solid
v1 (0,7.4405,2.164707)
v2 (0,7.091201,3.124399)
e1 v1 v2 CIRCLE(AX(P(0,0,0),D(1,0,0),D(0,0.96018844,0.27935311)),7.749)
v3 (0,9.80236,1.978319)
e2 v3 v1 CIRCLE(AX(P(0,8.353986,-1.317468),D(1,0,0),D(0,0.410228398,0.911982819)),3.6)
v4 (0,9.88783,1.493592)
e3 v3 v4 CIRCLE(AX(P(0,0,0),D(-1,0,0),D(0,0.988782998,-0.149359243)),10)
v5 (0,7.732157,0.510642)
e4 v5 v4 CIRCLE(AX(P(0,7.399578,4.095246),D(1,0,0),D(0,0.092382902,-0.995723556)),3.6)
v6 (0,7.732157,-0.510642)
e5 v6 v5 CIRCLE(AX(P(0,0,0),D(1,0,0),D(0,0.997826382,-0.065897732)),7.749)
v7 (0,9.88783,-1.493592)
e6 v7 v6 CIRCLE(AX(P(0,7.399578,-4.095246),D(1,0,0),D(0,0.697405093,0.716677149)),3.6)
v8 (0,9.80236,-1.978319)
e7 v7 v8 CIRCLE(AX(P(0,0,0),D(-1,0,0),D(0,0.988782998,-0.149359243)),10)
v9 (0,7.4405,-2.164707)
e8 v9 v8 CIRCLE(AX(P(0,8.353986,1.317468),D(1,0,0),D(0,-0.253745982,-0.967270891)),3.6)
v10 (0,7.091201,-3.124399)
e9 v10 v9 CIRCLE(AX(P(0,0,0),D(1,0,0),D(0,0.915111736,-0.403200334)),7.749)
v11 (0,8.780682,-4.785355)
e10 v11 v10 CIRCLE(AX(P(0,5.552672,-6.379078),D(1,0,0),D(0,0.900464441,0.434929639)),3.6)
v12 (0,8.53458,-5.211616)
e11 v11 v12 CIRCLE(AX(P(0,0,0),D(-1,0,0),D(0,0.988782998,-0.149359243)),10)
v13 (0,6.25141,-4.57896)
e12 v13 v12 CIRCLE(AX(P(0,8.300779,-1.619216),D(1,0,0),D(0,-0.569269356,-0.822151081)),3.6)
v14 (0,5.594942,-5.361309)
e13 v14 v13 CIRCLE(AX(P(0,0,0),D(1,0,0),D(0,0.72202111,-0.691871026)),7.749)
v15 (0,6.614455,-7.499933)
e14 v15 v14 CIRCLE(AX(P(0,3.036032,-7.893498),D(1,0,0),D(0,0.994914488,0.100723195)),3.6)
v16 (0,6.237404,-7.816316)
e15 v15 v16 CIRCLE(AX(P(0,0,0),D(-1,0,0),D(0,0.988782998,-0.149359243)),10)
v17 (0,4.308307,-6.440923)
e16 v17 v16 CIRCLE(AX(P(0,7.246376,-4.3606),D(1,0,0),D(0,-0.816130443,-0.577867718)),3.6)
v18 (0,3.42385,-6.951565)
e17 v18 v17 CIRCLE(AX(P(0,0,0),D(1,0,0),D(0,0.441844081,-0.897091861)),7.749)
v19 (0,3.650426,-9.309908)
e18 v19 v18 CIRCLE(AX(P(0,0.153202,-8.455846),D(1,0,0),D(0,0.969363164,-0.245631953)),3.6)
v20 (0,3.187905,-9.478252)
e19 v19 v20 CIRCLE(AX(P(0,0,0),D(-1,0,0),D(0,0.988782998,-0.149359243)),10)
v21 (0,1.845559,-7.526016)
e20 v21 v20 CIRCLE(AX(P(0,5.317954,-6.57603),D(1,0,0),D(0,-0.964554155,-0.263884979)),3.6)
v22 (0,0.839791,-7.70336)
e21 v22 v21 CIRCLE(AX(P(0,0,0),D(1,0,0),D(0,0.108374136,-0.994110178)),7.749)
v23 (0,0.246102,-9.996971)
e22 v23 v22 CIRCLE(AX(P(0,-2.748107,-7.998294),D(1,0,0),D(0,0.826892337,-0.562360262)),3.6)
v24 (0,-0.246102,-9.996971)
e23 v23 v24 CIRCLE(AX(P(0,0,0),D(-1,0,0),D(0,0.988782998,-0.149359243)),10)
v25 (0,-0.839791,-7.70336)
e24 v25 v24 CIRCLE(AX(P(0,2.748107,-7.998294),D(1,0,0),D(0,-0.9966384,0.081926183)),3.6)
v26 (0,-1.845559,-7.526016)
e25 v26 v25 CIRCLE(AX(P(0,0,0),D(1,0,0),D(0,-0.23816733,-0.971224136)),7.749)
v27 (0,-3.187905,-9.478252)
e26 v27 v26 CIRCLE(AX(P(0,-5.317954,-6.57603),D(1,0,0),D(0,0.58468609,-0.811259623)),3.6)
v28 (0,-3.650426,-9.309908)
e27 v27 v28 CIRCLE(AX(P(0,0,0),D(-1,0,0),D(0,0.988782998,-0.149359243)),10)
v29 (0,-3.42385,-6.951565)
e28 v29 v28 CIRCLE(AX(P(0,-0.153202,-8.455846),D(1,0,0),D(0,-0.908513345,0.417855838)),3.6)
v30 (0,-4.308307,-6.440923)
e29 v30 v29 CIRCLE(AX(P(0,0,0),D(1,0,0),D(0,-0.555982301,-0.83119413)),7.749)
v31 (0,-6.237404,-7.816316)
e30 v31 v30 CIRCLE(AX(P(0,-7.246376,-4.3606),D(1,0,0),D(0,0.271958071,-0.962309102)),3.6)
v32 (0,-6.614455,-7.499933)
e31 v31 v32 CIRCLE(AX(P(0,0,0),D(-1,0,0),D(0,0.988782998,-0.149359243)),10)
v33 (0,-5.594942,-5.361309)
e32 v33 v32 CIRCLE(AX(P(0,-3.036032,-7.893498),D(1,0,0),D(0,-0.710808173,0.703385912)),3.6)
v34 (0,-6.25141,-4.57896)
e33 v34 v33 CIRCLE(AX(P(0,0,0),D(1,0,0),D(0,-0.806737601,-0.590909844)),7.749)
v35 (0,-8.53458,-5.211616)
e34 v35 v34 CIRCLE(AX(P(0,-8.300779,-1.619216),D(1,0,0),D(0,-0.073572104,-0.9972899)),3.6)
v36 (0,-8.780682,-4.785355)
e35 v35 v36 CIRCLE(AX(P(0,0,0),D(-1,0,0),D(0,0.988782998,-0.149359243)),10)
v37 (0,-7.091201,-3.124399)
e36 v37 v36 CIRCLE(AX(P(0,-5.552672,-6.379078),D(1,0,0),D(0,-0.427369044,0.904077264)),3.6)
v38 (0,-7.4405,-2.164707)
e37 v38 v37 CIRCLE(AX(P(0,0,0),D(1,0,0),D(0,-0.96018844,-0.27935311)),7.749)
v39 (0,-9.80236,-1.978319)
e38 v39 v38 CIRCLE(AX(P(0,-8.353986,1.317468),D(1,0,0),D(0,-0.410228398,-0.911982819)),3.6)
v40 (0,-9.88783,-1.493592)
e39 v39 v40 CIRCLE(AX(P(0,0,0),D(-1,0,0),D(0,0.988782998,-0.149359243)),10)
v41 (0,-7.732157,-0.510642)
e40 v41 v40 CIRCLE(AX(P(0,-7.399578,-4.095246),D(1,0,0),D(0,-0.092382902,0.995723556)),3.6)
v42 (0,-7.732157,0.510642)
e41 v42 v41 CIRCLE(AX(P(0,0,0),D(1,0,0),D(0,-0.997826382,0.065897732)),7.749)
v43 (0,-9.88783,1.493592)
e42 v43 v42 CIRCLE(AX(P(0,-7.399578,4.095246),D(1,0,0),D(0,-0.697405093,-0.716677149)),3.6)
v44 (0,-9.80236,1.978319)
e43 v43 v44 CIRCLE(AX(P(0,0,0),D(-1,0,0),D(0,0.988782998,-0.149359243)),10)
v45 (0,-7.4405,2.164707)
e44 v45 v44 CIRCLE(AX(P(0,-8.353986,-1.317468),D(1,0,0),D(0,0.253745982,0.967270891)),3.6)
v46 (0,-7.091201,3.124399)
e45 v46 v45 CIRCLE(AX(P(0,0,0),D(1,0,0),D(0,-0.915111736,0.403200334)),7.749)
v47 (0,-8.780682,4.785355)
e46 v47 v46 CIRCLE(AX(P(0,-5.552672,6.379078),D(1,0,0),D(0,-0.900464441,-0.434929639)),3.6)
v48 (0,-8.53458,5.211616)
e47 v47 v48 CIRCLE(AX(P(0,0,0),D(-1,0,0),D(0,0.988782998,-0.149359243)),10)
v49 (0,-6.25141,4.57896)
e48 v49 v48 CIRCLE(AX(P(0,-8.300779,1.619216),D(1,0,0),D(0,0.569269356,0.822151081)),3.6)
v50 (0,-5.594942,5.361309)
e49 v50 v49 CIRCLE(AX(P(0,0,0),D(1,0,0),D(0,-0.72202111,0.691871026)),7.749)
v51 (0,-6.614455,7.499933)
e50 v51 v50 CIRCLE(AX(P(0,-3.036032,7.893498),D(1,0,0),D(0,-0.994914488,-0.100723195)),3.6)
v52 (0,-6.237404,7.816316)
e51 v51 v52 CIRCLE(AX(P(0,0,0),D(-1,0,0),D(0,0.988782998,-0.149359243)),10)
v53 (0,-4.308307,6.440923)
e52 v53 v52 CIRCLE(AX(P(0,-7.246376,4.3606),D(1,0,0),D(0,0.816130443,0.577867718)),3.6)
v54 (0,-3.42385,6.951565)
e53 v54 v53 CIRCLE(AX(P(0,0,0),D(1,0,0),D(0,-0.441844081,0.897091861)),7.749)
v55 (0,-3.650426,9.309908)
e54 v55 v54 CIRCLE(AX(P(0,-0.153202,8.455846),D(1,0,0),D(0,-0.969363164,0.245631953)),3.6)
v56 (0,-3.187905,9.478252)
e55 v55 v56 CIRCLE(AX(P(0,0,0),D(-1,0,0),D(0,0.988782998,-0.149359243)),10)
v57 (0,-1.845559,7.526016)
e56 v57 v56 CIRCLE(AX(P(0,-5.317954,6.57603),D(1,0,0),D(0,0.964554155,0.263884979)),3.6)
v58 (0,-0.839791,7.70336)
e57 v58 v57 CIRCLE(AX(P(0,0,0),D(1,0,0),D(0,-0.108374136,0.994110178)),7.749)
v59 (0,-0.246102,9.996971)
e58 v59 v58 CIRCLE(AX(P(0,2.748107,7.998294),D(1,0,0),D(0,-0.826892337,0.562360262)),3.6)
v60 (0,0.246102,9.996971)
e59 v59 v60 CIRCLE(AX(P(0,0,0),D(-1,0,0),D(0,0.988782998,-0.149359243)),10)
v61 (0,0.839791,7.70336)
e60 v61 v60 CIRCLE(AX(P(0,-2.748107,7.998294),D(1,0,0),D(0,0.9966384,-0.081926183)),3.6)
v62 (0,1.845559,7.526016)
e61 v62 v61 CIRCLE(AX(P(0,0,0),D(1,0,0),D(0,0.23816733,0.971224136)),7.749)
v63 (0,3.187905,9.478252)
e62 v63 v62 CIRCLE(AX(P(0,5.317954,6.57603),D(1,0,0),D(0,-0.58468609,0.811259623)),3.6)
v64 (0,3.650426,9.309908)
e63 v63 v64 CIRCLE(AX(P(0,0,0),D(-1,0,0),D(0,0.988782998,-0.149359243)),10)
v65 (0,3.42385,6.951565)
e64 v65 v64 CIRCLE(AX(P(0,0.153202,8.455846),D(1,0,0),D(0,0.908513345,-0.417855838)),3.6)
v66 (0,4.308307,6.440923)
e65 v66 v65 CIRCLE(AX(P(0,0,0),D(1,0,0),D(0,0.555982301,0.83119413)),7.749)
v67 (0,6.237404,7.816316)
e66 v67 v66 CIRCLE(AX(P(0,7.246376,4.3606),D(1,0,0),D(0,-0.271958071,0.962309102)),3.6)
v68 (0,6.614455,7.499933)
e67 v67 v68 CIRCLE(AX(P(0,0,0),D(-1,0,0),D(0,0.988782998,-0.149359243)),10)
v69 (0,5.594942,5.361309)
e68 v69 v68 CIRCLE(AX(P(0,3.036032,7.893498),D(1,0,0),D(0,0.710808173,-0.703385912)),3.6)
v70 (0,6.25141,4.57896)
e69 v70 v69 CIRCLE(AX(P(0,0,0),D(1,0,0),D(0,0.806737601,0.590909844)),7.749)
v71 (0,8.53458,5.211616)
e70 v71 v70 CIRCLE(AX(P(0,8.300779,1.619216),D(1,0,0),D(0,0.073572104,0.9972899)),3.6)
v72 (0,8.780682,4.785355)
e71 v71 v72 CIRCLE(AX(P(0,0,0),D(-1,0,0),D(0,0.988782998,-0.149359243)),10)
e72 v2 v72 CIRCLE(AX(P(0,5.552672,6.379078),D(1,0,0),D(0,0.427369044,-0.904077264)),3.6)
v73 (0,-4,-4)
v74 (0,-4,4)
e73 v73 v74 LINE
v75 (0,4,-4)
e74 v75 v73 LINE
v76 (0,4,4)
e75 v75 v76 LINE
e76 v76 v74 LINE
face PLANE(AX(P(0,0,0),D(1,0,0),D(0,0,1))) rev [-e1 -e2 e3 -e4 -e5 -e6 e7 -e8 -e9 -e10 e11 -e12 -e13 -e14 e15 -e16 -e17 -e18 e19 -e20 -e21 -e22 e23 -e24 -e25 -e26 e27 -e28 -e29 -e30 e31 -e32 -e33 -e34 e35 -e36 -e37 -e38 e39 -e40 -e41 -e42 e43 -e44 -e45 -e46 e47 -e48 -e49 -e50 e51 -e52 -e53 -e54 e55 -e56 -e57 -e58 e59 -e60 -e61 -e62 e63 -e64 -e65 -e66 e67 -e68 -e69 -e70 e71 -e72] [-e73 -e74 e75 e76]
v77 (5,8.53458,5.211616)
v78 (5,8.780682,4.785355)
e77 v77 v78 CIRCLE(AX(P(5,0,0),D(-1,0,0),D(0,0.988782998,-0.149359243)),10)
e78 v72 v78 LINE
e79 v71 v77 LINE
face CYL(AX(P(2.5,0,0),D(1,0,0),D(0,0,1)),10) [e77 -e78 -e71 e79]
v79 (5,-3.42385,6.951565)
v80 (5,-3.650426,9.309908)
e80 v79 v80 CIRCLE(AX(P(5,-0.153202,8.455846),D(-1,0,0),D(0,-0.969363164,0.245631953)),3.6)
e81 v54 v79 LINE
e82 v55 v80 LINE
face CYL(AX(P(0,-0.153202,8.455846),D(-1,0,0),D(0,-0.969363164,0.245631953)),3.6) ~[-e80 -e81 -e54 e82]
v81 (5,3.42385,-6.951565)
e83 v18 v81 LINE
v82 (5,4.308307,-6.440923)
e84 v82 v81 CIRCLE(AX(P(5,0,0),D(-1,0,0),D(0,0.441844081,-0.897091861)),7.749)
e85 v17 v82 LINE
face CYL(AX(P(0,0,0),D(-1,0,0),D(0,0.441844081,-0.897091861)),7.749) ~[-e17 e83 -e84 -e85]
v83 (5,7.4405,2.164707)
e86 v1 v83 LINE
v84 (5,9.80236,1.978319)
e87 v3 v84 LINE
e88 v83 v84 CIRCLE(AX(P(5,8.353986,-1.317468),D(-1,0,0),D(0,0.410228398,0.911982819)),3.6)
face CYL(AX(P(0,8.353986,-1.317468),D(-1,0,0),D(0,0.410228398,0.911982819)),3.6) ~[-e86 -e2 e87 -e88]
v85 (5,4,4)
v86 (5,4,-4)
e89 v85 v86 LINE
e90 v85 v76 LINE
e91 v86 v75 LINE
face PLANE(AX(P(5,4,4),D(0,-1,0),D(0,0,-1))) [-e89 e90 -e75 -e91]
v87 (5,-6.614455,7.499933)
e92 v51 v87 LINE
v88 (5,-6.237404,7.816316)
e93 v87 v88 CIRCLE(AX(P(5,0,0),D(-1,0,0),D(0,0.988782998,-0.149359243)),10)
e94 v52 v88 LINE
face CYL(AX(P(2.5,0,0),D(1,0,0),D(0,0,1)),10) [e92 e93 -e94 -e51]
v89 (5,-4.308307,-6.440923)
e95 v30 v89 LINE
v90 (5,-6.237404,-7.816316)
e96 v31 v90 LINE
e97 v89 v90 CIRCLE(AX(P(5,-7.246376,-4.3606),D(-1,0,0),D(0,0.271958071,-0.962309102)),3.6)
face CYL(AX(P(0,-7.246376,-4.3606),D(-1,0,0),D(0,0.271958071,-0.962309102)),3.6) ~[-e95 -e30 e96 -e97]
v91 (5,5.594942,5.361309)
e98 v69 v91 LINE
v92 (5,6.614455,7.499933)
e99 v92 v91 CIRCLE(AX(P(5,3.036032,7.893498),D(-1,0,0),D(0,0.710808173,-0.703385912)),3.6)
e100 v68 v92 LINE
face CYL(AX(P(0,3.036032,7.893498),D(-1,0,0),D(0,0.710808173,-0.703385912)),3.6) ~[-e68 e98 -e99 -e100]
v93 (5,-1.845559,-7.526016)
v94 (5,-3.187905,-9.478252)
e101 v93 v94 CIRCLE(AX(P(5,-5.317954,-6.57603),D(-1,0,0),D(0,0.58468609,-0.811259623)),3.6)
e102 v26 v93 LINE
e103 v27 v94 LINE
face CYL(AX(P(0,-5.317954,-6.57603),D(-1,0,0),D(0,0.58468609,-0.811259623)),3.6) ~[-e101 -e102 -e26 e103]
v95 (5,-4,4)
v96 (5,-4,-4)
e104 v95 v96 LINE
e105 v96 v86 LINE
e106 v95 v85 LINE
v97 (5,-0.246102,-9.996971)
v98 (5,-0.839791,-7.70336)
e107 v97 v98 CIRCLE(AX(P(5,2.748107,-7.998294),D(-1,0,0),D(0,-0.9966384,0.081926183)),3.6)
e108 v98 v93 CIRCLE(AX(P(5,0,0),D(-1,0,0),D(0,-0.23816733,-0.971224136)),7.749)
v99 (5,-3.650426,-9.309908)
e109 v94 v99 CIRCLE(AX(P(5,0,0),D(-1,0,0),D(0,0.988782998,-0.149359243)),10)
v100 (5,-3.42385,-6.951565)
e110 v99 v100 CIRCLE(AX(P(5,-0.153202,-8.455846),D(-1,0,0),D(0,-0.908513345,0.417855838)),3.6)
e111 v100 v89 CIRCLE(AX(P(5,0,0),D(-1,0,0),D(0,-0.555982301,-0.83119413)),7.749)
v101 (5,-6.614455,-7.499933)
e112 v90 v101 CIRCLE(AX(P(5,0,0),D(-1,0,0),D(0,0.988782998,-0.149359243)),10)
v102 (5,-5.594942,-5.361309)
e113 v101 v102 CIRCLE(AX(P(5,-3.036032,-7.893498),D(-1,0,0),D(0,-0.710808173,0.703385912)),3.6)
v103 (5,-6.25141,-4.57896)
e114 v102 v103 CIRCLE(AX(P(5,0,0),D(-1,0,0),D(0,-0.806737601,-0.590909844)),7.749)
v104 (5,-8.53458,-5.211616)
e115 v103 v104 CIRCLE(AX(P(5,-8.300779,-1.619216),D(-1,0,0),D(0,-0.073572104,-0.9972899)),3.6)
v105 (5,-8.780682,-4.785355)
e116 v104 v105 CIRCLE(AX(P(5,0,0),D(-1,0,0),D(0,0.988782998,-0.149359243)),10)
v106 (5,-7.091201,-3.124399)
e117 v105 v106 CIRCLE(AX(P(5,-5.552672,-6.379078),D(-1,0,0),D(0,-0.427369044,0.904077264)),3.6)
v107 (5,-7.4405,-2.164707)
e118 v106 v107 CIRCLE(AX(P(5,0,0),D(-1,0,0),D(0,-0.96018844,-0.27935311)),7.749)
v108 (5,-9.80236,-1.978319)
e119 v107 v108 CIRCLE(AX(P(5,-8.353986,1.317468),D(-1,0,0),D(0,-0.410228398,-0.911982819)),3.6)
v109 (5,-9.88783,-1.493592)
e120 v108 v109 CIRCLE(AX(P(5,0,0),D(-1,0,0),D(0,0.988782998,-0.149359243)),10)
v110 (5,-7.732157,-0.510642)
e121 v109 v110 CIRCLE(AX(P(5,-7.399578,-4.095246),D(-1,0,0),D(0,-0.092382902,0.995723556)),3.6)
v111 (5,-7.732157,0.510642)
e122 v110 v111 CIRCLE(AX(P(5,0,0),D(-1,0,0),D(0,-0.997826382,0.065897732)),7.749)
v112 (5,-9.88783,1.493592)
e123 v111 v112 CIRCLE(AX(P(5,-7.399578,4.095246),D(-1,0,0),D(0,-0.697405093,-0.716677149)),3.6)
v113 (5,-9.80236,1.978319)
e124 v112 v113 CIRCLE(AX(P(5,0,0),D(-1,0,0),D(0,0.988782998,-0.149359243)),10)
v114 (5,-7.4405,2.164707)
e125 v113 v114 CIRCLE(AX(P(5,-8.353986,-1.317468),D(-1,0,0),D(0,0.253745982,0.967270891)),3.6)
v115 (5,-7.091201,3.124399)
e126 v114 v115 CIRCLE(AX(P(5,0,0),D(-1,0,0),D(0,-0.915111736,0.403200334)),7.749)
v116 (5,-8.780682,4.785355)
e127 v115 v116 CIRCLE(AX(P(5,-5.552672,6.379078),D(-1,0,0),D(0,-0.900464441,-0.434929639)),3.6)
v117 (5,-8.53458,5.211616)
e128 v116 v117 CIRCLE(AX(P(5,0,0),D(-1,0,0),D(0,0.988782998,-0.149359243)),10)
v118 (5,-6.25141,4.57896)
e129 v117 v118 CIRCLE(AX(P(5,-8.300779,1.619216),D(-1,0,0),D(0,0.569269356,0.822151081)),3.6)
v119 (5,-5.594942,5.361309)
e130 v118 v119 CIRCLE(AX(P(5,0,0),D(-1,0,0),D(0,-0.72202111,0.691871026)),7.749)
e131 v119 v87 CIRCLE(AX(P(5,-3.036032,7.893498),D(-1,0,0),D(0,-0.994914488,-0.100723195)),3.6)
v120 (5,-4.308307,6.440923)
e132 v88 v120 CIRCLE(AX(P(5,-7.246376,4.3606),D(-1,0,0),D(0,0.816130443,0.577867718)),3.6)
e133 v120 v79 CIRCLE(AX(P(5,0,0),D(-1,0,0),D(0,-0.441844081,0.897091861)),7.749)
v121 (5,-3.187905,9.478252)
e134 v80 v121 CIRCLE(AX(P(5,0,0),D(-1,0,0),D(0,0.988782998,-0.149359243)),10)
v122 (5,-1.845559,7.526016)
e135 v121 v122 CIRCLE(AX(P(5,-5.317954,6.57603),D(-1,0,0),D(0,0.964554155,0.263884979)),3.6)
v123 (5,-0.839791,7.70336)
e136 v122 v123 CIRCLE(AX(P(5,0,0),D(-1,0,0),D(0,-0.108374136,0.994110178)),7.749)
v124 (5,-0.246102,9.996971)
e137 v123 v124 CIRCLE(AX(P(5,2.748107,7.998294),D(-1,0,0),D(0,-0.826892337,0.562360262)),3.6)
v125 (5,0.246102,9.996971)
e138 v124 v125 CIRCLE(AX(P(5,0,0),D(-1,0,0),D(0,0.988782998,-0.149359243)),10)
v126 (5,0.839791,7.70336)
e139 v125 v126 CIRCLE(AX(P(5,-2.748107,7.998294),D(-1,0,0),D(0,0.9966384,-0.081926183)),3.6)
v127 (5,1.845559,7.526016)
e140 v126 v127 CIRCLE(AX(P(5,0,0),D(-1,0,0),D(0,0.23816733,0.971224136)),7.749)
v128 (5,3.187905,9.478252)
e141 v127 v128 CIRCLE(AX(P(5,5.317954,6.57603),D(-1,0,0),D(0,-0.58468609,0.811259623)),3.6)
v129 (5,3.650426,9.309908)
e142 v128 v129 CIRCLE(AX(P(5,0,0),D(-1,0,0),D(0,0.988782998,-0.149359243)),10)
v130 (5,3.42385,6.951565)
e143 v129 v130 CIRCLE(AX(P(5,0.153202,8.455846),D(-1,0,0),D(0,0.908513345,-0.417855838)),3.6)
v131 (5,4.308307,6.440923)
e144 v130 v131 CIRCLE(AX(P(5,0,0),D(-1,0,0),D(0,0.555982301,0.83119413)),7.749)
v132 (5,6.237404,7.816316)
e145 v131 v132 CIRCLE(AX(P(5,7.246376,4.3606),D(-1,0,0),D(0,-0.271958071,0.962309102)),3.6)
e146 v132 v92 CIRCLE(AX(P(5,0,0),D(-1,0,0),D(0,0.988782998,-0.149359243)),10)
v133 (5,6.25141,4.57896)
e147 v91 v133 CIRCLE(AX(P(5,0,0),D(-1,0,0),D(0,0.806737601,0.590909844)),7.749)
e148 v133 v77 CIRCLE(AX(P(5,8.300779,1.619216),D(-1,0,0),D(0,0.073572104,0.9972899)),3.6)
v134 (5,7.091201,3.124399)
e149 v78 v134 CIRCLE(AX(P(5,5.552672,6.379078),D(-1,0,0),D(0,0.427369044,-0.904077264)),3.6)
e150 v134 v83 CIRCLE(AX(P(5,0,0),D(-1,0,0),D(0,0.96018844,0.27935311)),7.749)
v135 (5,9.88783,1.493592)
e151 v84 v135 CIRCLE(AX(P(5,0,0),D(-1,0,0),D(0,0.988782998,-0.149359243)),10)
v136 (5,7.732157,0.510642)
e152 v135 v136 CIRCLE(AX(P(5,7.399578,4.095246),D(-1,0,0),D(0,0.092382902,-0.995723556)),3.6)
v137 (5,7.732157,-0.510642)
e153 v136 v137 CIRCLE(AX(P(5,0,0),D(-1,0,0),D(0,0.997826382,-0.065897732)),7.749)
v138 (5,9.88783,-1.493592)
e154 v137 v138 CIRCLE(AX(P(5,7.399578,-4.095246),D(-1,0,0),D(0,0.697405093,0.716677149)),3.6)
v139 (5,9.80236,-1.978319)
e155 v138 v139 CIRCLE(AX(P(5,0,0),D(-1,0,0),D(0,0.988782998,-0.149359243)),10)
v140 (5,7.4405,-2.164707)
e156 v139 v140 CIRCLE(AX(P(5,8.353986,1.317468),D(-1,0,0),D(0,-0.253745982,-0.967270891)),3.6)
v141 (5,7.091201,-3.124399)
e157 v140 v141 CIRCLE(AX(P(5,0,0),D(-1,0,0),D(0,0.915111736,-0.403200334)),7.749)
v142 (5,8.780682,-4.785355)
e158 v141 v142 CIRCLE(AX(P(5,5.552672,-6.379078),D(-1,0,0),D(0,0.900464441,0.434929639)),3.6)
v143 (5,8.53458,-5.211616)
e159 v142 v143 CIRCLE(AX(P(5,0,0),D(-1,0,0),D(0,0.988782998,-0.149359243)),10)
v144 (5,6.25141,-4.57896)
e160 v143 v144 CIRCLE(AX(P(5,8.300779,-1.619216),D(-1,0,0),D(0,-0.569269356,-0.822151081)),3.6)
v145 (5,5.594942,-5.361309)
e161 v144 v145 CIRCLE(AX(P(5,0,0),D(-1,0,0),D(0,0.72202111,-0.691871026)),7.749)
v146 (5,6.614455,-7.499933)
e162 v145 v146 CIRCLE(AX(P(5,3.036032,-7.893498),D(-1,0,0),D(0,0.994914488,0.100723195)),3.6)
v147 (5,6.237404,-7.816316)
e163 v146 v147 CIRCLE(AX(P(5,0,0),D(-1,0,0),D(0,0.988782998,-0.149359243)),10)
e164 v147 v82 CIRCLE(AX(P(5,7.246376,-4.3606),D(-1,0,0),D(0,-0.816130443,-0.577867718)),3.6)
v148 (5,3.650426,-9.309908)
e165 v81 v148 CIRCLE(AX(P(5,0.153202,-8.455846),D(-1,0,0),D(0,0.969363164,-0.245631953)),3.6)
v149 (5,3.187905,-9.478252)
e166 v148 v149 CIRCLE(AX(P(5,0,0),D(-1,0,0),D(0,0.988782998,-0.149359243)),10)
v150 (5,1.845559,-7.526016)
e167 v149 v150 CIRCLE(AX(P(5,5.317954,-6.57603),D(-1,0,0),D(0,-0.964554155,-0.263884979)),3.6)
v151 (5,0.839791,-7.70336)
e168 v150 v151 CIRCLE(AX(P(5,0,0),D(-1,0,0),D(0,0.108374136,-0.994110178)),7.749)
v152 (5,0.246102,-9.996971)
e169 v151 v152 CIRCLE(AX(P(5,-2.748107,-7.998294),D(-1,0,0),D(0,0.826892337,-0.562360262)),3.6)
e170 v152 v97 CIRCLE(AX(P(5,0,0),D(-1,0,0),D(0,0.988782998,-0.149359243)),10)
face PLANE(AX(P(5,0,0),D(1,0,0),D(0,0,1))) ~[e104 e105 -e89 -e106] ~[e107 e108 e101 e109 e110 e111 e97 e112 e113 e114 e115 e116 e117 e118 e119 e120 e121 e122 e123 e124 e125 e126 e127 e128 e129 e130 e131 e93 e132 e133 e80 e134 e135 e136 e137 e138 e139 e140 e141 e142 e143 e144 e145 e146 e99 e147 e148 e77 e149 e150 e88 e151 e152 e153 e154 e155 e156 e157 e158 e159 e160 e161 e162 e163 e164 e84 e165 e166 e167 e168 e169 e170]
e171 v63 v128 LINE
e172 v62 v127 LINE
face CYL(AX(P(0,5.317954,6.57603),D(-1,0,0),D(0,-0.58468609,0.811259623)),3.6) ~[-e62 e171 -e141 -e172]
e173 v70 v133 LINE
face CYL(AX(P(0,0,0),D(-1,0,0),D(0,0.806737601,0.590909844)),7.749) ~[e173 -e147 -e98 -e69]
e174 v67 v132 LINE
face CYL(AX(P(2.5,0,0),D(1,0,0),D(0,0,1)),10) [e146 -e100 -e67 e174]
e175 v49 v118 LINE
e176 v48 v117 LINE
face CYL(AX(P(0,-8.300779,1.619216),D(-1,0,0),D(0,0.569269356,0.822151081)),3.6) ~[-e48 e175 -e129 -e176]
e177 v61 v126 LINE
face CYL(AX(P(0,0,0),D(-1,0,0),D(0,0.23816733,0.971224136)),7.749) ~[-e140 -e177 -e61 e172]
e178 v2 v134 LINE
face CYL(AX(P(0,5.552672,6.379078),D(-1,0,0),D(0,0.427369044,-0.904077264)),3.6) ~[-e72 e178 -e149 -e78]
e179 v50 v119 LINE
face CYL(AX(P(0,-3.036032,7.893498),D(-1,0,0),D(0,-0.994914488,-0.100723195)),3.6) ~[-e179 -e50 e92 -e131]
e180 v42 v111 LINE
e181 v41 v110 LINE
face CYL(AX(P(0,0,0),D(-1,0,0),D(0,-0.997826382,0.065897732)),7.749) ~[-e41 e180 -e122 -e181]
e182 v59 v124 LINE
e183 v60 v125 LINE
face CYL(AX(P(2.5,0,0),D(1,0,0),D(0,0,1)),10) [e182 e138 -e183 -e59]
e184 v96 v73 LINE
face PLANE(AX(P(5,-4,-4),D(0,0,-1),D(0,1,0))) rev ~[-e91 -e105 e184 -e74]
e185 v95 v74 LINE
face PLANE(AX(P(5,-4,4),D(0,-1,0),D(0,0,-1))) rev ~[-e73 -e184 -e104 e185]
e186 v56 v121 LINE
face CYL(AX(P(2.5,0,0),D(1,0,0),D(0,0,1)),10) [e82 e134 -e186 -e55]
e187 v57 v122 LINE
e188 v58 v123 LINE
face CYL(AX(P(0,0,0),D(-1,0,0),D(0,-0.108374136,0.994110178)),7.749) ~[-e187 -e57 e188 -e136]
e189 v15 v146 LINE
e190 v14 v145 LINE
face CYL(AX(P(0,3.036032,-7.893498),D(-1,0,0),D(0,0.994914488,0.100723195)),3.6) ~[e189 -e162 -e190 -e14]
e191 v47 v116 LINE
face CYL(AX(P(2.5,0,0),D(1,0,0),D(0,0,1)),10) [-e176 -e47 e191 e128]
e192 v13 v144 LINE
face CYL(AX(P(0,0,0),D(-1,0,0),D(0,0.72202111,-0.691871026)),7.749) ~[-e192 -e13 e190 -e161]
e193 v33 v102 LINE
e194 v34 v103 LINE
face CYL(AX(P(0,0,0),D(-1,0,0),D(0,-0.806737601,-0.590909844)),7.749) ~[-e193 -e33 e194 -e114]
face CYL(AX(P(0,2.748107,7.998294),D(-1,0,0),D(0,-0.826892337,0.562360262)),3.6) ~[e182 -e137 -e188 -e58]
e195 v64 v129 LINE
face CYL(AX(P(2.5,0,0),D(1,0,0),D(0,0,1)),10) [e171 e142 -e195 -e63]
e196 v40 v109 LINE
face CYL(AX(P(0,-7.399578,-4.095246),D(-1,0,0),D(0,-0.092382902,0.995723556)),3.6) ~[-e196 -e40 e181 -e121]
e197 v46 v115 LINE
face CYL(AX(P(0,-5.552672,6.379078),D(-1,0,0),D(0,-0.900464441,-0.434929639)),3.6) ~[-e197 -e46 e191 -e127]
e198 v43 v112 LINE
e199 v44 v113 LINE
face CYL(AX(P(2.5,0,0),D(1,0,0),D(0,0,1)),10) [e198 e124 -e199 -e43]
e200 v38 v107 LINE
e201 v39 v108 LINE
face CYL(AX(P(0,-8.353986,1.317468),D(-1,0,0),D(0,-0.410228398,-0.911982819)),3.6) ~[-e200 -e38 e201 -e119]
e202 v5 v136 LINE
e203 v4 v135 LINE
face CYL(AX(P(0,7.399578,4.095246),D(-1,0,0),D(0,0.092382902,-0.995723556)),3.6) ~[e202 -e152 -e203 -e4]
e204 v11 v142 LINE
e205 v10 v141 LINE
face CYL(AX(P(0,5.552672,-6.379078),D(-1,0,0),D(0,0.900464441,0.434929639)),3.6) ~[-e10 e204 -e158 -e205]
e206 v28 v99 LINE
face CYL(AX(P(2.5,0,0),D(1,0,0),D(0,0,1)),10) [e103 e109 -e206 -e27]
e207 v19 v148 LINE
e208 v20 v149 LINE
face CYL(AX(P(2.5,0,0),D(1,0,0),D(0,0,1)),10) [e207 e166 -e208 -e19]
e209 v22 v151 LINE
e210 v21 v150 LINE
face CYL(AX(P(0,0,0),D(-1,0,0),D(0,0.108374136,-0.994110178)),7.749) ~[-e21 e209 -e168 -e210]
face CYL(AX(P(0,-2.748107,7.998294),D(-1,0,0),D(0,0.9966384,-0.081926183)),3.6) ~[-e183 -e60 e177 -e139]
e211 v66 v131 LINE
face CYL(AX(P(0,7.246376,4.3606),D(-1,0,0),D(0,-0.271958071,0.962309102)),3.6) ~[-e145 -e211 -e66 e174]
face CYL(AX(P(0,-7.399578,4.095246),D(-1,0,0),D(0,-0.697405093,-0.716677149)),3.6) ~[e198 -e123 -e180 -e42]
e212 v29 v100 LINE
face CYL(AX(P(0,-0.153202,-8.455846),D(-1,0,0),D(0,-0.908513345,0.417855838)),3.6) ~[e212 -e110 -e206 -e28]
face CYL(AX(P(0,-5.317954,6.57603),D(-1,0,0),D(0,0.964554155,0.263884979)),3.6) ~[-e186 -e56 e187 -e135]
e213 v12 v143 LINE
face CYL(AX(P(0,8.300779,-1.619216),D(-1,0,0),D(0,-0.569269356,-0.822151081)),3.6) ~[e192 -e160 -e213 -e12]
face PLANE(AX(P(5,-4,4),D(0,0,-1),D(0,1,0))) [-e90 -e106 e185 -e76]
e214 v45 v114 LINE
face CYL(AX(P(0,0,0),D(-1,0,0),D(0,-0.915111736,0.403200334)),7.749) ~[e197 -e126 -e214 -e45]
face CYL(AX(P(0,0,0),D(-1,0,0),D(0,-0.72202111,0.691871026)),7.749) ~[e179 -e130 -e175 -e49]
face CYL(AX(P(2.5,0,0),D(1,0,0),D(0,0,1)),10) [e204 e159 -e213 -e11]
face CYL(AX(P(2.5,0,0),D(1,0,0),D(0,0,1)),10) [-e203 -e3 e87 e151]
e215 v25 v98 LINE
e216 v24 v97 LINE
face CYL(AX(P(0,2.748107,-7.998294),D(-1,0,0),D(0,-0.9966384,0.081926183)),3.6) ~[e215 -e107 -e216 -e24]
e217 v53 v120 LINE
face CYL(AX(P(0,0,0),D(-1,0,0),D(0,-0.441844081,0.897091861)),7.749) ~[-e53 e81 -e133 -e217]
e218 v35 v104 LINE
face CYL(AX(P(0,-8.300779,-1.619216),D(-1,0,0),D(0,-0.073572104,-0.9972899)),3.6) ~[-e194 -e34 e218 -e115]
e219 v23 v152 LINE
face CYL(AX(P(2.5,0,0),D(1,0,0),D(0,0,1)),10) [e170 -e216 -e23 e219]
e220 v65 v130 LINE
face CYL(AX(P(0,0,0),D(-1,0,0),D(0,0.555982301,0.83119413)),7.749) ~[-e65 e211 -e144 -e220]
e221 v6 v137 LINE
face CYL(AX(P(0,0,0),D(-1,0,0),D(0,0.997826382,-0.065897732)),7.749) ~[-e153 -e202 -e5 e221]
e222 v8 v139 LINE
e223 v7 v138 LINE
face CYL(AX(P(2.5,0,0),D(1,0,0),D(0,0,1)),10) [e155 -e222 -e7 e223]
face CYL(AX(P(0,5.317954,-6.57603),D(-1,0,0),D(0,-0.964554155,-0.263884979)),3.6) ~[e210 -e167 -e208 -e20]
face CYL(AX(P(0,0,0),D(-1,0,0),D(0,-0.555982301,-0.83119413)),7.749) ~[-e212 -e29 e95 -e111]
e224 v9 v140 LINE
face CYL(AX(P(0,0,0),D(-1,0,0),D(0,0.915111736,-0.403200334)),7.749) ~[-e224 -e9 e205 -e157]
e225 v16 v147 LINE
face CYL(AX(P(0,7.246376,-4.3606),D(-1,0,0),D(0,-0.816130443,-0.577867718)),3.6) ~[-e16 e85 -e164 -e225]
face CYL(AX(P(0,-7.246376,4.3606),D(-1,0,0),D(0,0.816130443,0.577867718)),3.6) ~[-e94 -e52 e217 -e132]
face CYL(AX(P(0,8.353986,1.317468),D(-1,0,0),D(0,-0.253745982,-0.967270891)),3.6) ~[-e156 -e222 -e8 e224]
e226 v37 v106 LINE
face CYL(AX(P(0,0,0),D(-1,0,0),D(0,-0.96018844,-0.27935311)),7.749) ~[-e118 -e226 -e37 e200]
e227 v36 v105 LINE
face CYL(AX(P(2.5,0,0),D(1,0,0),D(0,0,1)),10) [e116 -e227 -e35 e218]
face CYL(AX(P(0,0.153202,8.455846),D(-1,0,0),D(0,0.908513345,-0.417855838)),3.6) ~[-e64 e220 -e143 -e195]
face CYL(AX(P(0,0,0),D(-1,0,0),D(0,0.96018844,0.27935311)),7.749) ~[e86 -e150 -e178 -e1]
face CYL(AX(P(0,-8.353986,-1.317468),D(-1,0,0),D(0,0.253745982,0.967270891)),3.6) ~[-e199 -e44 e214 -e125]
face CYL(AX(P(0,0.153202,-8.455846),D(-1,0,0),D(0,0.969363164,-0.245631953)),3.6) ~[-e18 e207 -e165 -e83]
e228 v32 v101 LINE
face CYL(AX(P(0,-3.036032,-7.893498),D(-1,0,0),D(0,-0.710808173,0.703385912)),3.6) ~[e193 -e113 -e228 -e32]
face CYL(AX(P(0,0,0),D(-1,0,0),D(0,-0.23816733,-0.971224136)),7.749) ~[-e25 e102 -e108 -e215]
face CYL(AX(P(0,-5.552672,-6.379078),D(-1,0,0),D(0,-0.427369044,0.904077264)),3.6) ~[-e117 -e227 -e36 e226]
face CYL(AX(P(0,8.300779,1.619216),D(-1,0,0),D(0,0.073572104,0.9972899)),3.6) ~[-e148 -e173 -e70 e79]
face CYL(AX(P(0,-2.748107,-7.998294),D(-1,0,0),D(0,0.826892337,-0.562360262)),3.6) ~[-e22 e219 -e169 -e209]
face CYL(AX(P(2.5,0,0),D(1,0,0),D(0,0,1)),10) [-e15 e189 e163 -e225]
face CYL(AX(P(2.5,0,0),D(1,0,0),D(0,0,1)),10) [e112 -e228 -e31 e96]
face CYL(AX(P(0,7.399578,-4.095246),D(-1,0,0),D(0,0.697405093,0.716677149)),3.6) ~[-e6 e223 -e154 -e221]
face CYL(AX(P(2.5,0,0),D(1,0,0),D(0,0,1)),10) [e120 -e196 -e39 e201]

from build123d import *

# Parameters (mm, degrees)
BASPROSKE_W        = 5
BASPROSKE_H        = 10
TOOTHCUT_DEPTH     = 16
TEETHCUTS_COUNT    = 18
TEETHCUTS_ANGLE    = 340
BORSKE_R           = 2.5
BORE_DEPTH         = 50.0000508
SKETCH1_W          = 8
SKETCH1_H          = 8
CUT_EXTRUDE1_DEPTH = 15.925454152


with BuildPart() as part:
    # BasProSke → Base-Revolve (revolve)
    with BuildSketch(Plane(origin=(0, 0, 0), x_dir=(1, 0, 0), z_dir=(0, 1, 0)), mode=Mode.PRIVATE) as base_revolve_sk:
        with Locations((2.5, 5)):
            Rectangle(BASPROSKE_W, BASPROSKE_H)
    revolve(base_revolve_sk.sketch.rotate(Axis((-10, 0, 0), (1, 0, 0)), 180), axis=Axis((-10, 0, 0), (1, 0, 0)))

    # TooCutSke → ToothCut (cut, through all)
    with BuildSketch(Plane(origin=(0, 0, 0), x_dir=(0, 0, -1), z_dir=(1, 0, 0))):
        with BuildLine():
            ThreePointArc((0.510641536, 7.732156635), (0, 7.749), (-0.510641536, 7.732156635))
            ThreePointArc((-0.510641536, 7.732156635), (-0.82619259, 8.907320741), (-1.515208602, 9.910236529))
            ThreePointArc((-1.515208602, 9.910236529), (0, 10.0254), (1.515208602, 9.910236529))
            ThreePointArc((1.515208602, 9.910236529), (0.82619259, 8.907320741), (0.510641536, 7.732156635))
        make_face()
    toothcut = extrude(amount=TOOTHCUT_DEPTH, mode=Mode.SUBTRACT)

    # TeethCuts: ToothCut ×18 about axis
    teethcuts_axis = Axis((-10, 0, 0), (1, 0, 0))
    for i in range(1, TEETHCUTS_COUNT):
        add(toothcut.rotate(teethcuts_axis, i * TEETHCUTS_ANGLE / (TEETHCUTS_COUNT - 1)), mode=Mode.SUBTRACT)

    # BorSke → Bore (cut, symmetric)
    with BuildSketch(Plane(origin=(0, 0, 0), x_dir=(0, 0, -1), z_dir=(1, 0, 0))):
        with Locations(Location((0, 0, 0), (0, 0, 180))):
            Circle(BORSKE_R)
    extrude(amount=BORE_DEPTH, both=True, mode=Mode.SUBTRACT)

    # Sketch1 → Cut-Extrude1 (cut, through all)
    with BuildSketch(Plane(origin=(5, 0, 0), x_dir=(0, 0, -1), z_dir=(1, 0, 0))):
        Rectangle(SKETCH1_W, SKETCH1_H)
    extrude(amount=-CUT_EXTRUDE1_DEPTH, mode=Mode.SUBTRACT)


solid = part.part
